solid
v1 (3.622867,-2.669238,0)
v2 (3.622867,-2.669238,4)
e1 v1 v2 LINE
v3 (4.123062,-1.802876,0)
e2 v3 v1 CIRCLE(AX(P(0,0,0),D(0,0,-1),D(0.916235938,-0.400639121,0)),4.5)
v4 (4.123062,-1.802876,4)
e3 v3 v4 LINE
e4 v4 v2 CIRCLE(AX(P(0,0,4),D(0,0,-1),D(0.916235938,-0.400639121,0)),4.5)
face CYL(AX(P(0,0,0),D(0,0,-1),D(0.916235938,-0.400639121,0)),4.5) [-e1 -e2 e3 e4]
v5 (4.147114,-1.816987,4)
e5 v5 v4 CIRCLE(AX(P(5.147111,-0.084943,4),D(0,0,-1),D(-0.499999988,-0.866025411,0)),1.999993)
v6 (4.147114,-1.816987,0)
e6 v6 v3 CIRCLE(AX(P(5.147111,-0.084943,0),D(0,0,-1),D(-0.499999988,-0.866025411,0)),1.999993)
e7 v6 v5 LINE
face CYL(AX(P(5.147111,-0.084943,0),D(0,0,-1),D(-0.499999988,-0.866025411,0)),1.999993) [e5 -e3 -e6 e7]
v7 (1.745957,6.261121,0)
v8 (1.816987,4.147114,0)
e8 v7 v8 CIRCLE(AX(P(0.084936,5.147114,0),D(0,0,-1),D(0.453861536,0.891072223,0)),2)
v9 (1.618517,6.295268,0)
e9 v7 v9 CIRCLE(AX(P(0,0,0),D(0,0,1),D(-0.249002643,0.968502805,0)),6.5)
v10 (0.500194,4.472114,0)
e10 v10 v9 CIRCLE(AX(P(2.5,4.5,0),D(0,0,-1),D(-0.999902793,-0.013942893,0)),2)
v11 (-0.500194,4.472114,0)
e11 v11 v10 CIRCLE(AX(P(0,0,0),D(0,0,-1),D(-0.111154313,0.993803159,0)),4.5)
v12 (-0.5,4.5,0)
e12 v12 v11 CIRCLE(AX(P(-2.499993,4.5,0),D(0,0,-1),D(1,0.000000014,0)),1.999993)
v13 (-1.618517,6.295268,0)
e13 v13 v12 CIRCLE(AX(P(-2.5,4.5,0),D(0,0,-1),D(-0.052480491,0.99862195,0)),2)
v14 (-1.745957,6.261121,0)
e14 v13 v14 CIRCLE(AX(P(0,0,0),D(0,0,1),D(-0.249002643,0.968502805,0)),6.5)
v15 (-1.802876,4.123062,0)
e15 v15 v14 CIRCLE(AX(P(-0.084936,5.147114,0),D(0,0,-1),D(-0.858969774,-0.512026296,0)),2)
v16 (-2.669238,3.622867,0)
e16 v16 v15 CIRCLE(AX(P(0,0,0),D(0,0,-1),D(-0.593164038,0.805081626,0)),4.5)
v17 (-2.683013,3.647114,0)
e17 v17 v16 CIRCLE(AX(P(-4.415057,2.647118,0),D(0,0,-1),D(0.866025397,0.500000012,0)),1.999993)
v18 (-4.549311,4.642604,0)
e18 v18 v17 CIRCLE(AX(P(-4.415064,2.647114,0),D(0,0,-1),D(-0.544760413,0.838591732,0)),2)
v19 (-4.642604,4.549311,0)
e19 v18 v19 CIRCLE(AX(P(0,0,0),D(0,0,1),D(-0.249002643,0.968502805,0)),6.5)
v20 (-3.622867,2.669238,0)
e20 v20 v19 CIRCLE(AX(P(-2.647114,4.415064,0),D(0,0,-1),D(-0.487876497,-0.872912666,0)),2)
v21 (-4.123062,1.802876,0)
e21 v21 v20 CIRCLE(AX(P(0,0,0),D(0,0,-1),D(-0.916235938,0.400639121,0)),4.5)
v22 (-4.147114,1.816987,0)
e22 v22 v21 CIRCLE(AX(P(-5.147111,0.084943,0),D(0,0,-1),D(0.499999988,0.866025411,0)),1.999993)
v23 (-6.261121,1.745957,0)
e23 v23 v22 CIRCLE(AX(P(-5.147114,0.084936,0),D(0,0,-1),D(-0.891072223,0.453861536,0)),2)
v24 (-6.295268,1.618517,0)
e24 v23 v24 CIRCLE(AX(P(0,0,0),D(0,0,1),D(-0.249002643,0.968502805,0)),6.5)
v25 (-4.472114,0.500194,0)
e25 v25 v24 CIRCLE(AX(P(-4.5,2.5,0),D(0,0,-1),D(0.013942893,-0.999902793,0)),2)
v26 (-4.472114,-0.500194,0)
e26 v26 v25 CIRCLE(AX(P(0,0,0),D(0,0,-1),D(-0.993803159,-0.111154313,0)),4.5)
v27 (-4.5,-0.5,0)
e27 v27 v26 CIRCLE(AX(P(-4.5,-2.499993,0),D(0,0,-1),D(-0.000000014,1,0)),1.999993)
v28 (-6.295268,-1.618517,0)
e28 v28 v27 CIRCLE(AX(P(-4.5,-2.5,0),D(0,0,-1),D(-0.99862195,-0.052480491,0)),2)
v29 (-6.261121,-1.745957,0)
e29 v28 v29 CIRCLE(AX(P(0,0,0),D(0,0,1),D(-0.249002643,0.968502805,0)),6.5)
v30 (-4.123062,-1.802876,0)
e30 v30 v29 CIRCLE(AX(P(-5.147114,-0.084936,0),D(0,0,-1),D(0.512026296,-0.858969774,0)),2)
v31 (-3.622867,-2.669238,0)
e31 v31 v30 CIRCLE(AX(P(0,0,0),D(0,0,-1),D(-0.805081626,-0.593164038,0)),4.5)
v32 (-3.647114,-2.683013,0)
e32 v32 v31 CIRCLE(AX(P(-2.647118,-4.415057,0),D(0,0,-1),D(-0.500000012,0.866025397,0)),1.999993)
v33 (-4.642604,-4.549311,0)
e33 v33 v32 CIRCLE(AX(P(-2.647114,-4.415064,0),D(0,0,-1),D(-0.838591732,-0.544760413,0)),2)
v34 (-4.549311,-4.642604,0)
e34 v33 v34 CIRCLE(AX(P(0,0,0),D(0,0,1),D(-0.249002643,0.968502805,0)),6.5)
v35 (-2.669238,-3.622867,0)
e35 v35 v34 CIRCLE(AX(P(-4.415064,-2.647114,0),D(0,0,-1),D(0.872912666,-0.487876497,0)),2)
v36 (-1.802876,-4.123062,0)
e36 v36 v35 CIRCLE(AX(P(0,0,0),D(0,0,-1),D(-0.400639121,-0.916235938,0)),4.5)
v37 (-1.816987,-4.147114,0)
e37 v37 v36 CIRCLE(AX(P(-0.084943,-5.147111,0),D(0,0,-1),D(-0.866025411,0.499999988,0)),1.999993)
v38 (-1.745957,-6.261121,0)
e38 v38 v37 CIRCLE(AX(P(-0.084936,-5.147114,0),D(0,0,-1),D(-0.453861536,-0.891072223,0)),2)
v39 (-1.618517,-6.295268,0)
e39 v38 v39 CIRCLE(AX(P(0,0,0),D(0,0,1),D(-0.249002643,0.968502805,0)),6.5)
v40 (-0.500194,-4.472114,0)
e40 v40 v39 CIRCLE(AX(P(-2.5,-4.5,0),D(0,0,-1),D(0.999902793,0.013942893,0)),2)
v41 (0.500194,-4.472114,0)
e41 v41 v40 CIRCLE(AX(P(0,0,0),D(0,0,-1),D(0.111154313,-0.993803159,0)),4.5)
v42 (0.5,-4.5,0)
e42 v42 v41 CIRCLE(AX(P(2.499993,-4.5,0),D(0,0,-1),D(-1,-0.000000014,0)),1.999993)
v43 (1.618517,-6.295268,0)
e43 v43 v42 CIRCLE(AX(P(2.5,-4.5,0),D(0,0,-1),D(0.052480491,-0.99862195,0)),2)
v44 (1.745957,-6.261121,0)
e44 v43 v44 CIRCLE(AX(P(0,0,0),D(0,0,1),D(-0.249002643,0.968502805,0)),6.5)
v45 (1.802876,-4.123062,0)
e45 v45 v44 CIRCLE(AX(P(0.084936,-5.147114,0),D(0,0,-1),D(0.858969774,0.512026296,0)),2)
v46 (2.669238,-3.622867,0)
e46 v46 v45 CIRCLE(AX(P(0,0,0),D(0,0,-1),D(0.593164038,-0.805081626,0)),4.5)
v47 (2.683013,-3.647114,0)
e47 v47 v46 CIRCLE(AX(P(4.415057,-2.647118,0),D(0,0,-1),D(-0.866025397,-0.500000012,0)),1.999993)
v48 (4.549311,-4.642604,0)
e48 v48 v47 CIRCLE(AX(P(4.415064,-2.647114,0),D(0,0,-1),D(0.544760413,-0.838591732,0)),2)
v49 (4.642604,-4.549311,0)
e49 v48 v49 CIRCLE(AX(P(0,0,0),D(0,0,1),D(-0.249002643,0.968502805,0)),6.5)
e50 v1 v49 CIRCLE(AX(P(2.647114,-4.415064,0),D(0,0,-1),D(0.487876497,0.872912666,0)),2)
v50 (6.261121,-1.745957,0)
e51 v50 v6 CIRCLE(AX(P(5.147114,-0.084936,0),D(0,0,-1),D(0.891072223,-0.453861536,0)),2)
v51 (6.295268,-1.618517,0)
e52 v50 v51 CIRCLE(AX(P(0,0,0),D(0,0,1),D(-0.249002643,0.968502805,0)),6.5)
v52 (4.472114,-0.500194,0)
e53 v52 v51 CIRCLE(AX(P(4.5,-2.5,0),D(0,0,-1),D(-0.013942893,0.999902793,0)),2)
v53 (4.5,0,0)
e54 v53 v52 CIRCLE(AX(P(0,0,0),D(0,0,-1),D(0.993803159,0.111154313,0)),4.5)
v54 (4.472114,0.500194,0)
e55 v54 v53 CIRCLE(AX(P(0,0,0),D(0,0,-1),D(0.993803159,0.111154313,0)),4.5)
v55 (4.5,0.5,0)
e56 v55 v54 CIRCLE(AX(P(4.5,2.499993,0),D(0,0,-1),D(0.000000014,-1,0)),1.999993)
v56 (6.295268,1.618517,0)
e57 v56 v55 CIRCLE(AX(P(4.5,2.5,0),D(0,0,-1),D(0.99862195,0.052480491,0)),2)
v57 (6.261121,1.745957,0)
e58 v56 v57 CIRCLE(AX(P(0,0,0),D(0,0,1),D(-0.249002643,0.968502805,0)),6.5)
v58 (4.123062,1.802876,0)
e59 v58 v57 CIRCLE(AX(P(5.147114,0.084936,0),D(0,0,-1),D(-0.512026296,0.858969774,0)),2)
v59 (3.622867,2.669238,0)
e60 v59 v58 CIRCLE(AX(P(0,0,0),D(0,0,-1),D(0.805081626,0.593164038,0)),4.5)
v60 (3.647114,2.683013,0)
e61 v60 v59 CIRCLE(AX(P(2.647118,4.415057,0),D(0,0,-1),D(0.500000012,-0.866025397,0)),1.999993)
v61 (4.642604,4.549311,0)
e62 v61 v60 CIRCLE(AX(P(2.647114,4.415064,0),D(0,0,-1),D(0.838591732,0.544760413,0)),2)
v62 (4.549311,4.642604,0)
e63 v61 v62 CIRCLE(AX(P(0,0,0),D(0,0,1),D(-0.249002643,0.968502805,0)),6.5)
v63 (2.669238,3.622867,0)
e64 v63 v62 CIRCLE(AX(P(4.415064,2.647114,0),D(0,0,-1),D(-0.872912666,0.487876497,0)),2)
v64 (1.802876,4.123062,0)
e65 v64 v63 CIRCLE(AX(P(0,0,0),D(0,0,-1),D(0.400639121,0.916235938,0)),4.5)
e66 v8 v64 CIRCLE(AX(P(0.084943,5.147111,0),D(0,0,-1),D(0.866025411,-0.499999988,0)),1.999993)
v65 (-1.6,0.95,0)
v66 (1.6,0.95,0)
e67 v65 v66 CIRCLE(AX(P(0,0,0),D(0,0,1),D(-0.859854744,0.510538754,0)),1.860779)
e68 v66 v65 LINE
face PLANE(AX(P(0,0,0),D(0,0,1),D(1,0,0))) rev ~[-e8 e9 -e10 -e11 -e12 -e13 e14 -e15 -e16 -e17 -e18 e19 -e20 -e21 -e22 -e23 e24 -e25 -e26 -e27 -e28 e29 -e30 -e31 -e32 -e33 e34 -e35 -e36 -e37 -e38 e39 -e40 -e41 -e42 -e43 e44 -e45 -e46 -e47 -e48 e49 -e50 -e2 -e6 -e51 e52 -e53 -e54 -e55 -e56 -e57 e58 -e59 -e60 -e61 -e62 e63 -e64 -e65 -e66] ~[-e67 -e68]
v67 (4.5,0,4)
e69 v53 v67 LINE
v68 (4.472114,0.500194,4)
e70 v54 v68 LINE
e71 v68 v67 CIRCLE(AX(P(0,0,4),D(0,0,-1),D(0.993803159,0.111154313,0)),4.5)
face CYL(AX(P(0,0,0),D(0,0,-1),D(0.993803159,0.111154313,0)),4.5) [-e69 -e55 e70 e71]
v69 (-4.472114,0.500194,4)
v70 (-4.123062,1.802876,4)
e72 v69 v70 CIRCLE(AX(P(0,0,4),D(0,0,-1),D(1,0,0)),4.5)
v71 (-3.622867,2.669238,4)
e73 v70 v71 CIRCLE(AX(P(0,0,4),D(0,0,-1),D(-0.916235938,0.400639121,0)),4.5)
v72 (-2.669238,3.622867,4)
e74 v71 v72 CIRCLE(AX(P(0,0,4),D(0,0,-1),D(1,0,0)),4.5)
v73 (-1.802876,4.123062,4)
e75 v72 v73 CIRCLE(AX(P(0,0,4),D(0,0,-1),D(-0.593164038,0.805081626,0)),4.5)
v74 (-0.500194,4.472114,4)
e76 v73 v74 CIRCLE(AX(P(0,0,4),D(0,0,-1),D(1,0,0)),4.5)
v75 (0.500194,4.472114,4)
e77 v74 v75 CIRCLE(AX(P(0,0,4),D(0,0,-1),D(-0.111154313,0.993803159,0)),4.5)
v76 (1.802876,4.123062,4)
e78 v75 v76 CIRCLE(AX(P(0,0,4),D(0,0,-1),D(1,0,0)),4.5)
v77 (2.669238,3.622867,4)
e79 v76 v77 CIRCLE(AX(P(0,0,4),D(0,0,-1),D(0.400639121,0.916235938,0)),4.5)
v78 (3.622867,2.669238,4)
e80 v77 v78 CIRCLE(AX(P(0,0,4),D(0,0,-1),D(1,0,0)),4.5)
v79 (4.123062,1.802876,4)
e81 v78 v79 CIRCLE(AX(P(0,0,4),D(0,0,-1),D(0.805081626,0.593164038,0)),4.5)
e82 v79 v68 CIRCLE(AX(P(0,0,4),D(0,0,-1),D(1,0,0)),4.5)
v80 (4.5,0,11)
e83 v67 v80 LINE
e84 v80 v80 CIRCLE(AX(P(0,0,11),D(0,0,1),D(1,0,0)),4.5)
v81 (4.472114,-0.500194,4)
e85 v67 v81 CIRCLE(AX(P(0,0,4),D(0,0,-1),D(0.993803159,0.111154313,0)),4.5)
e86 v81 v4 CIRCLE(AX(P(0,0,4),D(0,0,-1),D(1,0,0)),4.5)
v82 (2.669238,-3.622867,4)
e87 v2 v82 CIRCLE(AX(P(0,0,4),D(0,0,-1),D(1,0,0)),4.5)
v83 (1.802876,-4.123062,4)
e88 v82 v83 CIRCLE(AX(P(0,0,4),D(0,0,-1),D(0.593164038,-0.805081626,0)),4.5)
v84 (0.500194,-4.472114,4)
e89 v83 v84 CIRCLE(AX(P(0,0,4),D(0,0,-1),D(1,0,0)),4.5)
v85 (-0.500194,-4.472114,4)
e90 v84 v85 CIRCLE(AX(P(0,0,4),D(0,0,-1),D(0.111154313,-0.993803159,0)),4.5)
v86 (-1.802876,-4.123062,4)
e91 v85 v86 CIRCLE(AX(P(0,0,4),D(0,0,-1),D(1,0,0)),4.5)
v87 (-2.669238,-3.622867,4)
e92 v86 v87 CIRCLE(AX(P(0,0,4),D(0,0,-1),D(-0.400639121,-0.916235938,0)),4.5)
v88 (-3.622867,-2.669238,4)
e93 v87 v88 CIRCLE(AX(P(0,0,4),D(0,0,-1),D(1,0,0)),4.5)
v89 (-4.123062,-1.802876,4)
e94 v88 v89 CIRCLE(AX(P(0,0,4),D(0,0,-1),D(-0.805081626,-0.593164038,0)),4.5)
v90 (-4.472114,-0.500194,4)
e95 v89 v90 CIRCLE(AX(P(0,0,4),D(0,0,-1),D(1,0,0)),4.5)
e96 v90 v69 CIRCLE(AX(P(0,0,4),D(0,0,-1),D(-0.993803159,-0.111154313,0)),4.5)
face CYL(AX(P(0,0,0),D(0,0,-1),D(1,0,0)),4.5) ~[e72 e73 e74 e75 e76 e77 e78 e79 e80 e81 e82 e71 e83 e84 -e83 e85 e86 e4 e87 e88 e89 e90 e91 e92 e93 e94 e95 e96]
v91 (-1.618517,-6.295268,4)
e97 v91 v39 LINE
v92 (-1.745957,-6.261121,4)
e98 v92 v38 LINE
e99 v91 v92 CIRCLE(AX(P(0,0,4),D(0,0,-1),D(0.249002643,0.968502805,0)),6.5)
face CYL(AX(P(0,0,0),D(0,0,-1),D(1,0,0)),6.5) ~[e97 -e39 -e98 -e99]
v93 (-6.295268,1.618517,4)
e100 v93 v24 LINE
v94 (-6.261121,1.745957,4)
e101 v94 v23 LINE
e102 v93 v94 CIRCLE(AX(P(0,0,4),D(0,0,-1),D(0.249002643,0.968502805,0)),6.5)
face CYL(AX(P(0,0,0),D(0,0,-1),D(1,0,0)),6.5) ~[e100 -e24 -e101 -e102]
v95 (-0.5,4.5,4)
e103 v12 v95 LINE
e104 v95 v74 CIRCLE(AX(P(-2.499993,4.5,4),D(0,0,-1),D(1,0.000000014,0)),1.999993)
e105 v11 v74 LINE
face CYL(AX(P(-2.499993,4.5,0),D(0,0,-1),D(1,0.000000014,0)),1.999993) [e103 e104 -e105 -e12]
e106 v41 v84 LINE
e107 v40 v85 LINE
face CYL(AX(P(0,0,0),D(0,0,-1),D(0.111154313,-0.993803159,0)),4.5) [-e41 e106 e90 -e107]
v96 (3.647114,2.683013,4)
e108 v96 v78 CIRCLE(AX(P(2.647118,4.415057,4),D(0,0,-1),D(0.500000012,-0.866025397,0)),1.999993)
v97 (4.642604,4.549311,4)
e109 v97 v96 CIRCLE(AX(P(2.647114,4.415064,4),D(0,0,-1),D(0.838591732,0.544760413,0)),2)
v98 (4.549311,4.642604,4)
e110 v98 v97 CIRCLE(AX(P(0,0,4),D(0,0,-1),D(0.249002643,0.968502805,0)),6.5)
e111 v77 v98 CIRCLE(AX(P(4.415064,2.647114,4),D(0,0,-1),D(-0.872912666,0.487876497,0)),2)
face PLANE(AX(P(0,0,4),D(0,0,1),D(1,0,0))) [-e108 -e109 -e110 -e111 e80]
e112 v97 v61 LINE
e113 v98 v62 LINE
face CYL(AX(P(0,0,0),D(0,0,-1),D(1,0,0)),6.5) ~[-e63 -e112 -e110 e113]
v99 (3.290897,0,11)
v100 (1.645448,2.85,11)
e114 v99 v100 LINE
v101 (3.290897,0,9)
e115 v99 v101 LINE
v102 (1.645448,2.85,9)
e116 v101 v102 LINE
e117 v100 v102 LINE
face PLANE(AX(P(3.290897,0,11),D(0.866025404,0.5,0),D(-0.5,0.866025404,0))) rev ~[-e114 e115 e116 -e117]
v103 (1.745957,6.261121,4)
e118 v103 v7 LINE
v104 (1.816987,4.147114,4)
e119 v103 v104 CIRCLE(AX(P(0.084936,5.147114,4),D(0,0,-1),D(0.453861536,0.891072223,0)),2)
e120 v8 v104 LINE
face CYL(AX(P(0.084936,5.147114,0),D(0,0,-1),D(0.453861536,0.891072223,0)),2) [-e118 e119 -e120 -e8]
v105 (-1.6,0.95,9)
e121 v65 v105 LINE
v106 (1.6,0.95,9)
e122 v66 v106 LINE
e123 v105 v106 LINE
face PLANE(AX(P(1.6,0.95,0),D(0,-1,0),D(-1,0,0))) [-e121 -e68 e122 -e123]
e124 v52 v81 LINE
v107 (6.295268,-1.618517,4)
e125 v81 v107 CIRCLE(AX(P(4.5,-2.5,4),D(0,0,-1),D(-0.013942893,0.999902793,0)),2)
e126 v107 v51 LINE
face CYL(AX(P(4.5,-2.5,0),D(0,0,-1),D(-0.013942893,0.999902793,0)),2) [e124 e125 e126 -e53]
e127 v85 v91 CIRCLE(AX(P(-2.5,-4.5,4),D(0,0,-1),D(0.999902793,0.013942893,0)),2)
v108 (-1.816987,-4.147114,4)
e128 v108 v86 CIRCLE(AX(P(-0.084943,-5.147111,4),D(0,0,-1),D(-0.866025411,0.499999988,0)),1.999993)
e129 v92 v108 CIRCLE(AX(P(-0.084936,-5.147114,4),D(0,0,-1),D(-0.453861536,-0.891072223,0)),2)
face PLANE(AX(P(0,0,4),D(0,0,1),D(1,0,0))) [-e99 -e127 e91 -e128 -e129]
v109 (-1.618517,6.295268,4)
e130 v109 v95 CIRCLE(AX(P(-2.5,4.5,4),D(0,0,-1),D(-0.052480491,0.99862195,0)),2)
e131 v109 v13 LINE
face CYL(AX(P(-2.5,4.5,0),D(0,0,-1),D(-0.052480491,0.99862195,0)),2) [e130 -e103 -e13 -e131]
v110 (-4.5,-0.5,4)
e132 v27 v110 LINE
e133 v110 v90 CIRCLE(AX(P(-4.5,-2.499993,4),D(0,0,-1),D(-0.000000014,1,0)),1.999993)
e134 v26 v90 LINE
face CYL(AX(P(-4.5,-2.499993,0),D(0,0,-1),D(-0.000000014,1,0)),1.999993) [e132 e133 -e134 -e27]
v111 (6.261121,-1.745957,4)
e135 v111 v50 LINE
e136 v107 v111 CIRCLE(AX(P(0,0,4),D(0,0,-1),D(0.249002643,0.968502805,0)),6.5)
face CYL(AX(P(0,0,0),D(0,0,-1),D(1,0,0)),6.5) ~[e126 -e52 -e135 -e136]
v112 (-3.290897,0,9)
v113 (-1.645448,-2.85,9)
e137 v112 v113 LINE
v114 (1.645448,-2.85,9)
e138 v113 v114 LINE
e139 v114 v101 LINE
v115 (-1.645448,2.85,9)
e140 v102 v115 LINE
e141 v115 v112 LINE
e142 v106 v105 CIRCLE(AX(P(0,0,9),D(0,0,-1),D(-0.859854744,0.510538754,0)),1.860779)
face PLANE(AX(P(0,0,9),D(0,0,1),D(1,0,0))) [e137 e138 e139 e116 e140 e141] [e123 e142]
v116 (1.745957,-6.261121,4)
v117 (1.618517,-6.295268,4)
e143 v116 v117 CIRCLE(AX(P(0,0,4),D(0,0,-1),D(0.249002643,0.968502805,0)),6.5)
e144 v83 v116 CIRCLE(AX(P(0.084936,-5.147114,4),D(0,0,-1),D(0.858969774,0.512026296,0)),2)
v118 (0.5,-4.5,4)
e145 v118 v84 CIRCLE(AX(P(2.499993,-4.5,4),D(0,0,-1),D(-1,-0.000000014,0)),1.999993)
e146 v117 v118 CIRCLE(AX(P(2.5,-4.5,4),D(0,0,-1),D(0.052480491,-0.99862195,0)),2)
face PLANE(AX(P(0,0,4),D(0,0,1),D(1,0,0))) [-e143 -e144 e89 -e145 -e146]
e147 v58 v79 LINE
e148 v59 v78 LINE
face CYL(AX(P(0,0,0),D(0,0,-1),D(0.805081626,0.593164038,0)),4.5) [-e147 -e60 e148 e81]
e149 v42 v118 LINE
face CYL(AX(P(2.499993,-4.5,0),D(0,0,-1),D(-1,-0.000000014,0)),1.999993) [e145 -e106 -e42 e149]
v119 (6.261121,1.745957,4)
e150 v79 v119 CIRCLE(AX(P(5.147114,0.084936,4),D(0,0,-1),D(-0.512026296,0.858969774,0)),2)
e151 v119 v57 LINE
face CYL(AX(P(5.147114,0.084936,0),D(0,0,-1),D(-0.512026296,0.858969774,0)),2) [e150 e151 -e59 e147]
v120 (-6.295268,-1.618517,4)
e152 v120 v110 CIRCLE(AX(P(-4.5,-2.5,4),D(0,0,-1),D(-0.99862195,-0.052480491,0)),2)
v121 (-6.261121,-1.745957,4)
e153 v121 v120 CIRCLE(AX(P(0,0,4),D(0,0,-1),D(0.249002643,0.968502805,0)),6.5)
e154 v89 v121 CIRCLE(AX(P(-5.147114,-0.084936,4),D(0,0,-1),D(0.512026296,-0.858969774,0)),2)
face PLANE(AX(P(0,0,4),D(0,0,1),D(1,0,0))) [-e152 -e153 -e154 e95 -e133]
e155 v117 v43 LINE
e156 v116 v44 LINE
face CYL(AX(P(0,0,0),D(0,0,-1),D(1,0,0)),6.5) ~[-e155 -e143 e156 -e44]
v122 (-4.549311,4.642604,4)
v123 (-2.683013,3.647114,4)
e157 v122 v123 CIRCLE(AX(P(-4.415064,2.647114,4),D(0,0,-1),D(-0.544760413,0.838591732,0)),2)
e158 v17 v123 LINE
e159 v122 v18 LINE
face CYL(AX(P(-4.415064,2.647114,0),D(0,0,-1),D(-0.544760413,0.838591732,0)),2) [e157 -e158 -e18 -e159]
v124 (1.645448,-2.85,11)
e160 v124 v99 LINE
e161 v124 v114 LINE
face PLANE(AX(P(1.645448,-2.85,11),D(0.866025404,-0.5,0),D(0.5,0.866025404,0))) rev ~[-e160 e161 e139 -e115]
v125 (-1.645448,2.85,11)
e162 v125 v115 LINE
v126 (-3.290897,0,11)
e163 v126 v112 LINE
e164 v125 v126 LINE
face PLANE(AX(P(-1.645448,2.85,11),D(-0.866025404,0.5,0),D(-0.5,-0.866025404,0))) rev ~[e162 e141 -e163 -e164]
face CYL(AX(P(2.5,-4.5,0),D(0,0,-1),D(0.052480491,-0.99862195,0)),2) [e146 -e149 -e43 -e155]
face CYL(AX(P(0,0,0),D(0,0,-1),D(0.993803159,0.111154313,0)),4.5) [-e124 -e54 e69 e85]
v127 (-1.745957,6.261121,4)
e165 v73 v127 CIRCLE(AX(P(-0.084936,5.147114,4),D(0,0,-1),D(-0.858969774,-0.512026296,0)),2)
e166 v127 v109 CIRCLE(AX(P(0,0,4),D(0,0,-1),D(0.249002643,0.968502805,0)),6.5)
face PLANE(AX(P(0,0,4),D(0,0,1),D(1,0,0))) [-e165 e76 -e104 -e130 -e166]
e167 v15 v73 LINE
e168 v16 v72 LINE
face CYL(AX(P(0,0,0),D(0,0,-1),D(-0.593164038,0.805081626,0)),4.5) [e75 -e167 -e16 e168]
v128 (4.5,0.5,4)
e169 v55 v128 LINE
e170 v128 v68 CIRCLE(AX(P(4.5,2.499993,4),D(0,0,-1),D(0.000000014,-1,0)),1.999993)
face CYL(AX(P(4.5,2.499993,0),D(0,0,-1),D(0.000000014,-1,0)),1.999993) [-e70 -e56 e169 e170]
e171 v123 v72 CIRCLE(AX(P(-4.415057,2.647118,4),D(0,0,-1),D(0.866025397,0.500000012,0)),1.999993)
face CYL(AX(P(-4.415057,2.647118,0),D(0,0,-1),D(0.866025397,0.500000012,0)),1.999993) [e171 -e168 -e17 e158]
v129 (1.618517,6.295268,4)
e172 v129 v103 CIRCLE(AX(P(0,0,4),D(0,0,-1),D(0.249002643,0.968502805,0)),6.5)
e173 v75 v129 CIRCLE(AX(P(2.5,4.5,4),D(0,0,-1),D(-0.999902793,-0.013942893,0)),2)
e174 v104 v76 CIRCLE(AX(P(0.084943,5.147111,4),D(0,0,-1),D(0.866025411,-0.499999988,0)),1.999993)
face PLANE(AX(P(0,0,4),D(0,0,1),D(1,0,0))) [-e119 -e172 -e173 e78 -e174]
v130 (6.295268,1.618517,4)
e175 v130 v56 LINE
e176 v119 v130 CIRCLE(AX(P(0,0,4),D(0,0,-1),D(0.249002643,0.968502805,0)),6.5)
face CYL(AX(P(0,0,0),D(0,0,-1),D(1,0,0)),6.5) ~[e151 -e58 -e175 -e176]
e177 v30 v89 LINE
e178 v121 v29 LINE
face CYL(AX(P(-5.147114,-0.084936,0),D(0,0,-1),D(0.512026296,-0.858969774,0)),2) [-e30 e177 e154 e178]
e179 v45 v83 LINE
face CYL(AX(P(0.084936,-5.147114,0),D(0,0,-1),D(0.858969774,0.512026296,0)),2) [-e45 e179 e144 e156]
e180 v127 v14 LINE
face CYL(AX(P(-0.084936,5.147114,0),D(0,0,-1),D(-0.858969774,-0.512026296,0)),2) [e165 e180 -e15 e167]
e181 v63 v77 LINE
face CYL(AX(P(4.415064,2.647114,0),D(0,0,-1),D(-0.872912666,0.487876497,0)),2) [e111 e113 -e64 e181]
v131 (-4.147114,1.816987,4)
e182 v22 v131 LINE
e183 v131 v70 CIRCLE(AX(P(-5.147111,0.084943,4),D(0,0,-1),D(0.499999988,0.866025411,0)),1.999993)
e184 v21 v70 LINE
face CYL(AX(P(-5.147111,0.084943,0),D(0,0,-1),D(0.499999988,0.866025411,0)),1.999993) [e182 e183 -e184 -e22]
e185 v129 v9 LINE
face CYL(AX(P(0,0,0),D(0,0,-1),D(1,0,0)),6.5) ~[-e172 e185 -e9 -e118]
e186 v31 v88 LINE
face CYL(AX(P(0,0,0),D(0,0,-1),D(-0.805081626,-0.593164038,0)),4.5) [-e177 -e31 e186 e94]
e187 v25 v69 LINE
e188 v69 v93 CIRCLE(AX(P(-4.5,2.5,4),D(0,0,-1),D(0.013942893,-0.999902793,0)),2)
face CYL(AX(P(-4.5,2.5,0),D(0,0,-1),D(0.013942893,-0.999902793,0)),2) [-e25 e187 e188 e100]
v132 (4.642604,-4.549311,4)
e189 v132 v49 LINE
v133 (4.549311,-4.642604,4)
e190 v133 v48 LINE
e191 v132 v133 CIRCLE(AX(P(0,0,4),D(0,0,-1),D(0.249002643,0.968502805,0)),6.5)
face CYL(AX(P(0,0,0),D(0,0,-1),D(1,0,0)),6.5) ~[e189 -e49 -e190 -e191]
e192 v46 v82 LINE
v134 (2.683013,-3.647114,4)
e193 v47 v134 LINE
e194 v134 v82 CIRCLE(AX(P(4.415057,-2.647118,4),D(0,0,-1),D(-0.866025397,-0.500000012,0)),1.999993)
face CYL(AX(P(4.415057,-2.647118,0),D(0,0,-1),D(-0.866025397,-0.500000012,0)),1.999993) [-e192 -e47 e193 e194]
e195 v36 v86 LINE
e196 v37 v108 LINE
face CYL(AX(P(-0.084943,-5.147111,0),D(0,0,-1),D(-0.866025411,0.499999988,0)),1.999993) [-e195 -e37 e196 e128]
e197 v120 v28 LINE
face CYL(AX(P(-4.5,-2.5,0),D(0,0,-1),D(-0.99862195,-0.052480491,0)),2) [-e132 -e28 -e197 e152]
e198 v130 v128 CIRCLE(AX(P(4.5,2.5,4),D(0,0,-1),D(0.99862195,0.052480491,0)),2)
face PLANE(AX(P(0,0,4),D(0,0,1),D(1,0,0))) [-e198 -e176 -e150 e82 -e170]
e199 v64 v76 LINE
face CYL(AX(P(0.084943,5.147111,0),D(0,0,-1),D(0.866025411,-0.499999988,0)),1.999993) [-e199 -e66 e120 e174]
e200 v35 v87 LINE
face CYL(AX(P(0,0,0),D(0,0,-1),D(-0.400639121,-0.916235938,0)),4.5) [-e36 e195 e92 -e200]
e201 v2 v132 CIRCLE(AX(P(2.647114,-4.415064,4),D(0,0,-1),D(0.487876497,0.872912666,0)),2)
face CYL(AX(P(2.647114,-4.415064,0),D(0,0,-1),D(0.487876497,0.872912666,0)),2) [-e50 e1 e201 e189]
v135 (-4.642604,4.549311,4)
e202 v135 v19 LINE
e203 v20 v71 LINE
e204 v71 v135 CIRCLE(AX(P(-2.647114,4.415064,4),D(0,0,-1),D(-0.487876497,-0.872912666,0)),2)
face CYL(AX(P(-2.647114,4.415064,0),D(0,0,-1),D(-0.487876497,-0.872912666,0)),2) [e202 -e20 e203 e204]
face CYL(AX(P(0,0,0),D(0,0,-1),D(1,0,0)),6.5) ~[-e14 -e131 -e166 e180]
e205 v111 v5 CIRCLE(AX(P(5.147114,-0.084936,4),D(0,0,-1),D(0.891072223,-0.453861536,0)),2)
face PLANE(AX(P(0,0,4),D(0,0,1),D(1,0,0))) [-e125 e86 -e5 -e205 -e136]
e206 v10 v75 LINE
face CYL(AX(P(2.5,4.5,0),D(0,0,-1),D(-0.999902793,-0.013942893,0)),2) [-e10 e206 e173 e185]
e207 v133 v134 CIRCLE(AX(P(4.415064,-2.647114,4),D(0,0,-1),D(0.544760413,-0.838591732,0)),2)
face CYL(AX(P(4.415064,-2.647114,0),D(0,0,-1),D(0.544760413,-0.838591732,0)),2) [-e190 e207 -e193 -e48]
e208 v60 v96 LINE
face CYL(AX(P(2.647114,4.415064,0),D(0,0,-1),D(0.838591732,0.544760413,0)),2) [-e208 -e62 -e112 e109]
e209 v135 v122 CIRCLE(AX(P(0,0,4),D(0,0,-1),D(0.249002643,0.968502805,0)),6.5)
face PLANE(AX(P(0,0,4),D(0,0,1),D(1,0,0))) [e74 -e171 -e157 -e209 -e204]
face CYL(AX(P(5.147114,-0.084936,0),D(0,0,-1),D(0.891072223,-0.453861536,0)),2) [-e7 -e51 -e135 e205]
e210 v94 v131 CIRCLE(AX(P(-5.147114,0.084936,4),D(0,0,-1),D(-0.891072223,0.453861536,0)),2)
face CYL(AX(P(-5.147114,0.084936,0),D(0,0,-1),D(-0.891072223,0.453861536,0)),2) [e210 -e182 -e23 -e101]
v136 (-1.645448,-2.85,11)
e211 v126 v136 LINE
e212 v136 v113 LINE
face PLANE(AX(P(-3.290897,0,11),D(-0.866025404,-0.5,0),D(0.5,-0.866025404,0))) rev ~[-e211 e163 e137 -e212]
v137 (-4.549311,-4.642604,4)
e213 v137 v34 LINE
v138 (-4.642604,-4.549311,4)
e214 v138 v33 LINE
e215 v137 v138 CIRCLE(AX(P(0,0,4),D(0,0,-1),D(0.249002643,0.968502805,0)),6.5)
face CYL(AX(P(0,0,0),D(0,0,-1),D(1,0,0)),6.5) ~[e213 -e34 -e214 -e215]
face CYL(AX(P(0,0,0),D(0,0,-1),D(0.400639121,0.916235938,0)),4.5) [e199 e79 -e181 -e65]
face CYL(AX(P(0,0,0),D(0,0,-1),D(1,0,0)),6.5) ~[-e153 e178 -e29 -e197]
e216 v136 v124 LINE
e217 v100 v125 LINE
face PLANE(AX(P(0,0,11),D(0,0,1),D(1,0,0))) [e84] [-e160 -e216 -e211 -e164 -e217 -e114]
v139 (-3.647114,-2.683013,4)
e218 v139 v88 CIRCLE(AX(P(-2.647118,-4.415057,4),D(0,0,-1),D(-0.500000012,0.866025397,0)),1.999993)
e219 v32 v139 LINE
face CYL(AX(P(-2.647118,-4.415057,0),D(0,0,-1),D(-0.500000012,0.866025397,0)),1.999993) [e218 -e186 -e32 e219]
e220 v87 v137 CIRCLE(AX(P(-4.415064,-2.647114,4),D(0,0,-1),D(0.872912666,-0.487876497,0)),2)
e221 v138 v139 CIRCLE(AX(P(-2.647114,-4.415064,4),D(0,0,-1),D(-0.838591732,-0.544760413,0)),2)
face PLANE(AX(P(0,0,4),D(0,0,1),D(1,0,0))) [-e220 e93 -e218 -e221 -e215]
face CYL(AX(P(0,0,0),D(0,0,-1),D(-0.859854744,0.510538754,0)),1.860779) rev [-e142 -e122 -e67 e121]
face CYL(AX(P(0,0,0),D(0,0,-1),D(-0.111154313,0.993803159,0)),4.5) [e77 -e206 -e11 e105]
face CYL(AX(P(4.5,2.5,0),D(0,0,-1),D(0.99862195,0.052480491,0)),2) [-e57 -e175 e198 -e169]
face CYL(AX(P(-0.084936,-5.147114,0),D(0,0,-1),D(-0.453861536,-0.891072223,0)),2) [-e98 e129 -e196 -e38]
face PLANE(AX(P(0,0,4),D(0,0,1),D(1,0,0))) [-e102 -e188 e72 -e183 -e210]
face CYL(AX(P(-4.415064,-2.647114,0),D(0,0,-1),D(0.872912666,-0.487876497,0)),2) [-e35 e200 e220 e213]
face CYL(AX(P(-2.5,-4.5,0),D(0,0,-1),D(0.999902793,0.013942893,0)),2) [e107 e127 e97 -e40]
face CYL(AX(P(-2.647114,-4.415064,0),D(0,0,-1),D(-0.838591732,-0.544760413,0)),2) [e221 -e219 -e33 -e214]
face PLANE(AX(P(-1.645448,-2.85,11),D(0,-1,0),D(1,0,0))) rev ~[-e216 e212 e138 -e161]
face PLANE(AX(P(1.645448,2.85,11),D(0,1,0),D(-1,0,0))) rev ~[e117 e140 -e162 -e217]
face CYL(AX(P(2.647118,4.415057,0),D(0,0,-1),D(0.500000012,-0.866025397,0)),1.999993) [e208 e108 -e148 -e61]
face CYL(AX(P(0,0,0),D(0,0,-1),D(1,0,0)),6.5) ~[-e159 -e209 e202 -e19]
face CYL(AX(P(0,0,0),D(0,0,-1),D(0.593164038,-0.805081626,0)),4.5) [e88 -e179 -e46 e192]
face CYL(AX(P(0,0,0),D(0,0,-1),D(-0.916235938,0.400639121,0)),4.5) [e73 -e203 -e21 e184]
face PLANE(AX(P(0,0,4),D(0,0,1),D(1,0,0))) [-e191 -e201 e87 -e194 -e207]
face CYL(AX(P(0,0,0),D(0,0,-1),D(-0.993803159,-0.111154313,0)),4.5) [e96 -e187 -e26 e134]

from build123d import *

# Parameters (mm, degrees)
SKETCH1_R           = 6.5
SKETCH1_R_2         = 1
BOSS_EXTRUDE1_DEPTH = 4
CUT_EXTRUDE2_DEPTH  = 11.024968828
CIRPATTERN2_COUNT   = 12
SKETCH11_R          = 4.5
BOSS_EXTRUDE2_DEPTH = 11
CUT_EXTRUDE3_START  = 11
CUT_EXTRUDE3_DEPTH  = 2
CUT_EXTRUDE4_DEPTH  = 15.151353444


with BuildPart() as part:
    # Sketch1 → Boss-Extrude1 (new body)
    with BuildSketch(Plane.XY):
        Circle(SKETCH1_R)
        Circle(SKETCH1_R_2, mode=Mode.SUBTRACT)
    extrude(amount=BOSS_EXTRUDE1_DEPTH)

    # Sketch4 → Cut-Extrude2 (cut, through all)
    with BuildSketch(Plane.XY):
        with BuildLine():
            ThreePointArc((-0.500194414, 4.472114215), (0, 4.5), (0.500194414, 4.472114215))
            ThreePointArc((0.500194414, 4.472114215), (1.113314535, 5.941215952), (2.604960982, 6.497243899))
            ThreePointArc((2.604960982, 6.497243899), (0, 7), (-2.604960982, 6.497243899))
            ThreePointArc((-2.604960982, 6.497243899), (-1.123395838, 5.950848366), (-0.5, 4.5))
            ThreePointArc((-0.5, 4.5), (-0.500048604, 4.486056768), (-0.500194414, 4.472114215))
        make_face()
    cut_extrude2 = extrude(amount=CUT_EXTRUDE2_DEPTH, mode=Mode.SUBTRACT)

    # CirPattern2: Cut-Extrude2 ×12 about axis
    cirpattern2_axis = Axis((0, 0, 4), (0, 0, -1))
    for i in range(1, CIRPATTERN2_COUNT):
        add(cut_extrude2.rotate(cirpattern2_axis, i * 360 / CIRPATTERN2_COUNT), mode=Mode.SUBTRACT)

    # Sketch11 → Boss-Extrude2 (add)
    with BuildSketch(Plane.XY):
        Circle(SKETCH11_R)
    extrude(amount=BOSS_EXTRUDE2_DEPTH)

    # Sketch12 → Cut-Extrude3 (cut)
    with BuildSketch(Plane.XY.offset(CUT_EXTRUDE3_START)):
        Polygon((3.290896534, 0), (1.645448267, 2.85), (-1.645448267, 2.85), (-3.290896534, 0), (-1.645448267, -2.85), (1.645448267, -2.85), align=None)
    extrude(amount=-CUT_EXTRUDE3_DEPTH, mode=Mode.SUBTRACT)

    # Sketch13 → Cut-Extrude4 (cut, through all)
    with BuildSketch(Plane.XY):
        with BuildLine():
            ThreePointArc((-1.6, 0.95), (0, -1.860779407), (1.6, 0.95))
            Line((1.6, 0.95), (-1.6, 0.95))
        make_face()
    extrude(amount=CUT_EXTRUDE4_DEPTH, mode=Mode.SUBTRACT)


solid = part.part
